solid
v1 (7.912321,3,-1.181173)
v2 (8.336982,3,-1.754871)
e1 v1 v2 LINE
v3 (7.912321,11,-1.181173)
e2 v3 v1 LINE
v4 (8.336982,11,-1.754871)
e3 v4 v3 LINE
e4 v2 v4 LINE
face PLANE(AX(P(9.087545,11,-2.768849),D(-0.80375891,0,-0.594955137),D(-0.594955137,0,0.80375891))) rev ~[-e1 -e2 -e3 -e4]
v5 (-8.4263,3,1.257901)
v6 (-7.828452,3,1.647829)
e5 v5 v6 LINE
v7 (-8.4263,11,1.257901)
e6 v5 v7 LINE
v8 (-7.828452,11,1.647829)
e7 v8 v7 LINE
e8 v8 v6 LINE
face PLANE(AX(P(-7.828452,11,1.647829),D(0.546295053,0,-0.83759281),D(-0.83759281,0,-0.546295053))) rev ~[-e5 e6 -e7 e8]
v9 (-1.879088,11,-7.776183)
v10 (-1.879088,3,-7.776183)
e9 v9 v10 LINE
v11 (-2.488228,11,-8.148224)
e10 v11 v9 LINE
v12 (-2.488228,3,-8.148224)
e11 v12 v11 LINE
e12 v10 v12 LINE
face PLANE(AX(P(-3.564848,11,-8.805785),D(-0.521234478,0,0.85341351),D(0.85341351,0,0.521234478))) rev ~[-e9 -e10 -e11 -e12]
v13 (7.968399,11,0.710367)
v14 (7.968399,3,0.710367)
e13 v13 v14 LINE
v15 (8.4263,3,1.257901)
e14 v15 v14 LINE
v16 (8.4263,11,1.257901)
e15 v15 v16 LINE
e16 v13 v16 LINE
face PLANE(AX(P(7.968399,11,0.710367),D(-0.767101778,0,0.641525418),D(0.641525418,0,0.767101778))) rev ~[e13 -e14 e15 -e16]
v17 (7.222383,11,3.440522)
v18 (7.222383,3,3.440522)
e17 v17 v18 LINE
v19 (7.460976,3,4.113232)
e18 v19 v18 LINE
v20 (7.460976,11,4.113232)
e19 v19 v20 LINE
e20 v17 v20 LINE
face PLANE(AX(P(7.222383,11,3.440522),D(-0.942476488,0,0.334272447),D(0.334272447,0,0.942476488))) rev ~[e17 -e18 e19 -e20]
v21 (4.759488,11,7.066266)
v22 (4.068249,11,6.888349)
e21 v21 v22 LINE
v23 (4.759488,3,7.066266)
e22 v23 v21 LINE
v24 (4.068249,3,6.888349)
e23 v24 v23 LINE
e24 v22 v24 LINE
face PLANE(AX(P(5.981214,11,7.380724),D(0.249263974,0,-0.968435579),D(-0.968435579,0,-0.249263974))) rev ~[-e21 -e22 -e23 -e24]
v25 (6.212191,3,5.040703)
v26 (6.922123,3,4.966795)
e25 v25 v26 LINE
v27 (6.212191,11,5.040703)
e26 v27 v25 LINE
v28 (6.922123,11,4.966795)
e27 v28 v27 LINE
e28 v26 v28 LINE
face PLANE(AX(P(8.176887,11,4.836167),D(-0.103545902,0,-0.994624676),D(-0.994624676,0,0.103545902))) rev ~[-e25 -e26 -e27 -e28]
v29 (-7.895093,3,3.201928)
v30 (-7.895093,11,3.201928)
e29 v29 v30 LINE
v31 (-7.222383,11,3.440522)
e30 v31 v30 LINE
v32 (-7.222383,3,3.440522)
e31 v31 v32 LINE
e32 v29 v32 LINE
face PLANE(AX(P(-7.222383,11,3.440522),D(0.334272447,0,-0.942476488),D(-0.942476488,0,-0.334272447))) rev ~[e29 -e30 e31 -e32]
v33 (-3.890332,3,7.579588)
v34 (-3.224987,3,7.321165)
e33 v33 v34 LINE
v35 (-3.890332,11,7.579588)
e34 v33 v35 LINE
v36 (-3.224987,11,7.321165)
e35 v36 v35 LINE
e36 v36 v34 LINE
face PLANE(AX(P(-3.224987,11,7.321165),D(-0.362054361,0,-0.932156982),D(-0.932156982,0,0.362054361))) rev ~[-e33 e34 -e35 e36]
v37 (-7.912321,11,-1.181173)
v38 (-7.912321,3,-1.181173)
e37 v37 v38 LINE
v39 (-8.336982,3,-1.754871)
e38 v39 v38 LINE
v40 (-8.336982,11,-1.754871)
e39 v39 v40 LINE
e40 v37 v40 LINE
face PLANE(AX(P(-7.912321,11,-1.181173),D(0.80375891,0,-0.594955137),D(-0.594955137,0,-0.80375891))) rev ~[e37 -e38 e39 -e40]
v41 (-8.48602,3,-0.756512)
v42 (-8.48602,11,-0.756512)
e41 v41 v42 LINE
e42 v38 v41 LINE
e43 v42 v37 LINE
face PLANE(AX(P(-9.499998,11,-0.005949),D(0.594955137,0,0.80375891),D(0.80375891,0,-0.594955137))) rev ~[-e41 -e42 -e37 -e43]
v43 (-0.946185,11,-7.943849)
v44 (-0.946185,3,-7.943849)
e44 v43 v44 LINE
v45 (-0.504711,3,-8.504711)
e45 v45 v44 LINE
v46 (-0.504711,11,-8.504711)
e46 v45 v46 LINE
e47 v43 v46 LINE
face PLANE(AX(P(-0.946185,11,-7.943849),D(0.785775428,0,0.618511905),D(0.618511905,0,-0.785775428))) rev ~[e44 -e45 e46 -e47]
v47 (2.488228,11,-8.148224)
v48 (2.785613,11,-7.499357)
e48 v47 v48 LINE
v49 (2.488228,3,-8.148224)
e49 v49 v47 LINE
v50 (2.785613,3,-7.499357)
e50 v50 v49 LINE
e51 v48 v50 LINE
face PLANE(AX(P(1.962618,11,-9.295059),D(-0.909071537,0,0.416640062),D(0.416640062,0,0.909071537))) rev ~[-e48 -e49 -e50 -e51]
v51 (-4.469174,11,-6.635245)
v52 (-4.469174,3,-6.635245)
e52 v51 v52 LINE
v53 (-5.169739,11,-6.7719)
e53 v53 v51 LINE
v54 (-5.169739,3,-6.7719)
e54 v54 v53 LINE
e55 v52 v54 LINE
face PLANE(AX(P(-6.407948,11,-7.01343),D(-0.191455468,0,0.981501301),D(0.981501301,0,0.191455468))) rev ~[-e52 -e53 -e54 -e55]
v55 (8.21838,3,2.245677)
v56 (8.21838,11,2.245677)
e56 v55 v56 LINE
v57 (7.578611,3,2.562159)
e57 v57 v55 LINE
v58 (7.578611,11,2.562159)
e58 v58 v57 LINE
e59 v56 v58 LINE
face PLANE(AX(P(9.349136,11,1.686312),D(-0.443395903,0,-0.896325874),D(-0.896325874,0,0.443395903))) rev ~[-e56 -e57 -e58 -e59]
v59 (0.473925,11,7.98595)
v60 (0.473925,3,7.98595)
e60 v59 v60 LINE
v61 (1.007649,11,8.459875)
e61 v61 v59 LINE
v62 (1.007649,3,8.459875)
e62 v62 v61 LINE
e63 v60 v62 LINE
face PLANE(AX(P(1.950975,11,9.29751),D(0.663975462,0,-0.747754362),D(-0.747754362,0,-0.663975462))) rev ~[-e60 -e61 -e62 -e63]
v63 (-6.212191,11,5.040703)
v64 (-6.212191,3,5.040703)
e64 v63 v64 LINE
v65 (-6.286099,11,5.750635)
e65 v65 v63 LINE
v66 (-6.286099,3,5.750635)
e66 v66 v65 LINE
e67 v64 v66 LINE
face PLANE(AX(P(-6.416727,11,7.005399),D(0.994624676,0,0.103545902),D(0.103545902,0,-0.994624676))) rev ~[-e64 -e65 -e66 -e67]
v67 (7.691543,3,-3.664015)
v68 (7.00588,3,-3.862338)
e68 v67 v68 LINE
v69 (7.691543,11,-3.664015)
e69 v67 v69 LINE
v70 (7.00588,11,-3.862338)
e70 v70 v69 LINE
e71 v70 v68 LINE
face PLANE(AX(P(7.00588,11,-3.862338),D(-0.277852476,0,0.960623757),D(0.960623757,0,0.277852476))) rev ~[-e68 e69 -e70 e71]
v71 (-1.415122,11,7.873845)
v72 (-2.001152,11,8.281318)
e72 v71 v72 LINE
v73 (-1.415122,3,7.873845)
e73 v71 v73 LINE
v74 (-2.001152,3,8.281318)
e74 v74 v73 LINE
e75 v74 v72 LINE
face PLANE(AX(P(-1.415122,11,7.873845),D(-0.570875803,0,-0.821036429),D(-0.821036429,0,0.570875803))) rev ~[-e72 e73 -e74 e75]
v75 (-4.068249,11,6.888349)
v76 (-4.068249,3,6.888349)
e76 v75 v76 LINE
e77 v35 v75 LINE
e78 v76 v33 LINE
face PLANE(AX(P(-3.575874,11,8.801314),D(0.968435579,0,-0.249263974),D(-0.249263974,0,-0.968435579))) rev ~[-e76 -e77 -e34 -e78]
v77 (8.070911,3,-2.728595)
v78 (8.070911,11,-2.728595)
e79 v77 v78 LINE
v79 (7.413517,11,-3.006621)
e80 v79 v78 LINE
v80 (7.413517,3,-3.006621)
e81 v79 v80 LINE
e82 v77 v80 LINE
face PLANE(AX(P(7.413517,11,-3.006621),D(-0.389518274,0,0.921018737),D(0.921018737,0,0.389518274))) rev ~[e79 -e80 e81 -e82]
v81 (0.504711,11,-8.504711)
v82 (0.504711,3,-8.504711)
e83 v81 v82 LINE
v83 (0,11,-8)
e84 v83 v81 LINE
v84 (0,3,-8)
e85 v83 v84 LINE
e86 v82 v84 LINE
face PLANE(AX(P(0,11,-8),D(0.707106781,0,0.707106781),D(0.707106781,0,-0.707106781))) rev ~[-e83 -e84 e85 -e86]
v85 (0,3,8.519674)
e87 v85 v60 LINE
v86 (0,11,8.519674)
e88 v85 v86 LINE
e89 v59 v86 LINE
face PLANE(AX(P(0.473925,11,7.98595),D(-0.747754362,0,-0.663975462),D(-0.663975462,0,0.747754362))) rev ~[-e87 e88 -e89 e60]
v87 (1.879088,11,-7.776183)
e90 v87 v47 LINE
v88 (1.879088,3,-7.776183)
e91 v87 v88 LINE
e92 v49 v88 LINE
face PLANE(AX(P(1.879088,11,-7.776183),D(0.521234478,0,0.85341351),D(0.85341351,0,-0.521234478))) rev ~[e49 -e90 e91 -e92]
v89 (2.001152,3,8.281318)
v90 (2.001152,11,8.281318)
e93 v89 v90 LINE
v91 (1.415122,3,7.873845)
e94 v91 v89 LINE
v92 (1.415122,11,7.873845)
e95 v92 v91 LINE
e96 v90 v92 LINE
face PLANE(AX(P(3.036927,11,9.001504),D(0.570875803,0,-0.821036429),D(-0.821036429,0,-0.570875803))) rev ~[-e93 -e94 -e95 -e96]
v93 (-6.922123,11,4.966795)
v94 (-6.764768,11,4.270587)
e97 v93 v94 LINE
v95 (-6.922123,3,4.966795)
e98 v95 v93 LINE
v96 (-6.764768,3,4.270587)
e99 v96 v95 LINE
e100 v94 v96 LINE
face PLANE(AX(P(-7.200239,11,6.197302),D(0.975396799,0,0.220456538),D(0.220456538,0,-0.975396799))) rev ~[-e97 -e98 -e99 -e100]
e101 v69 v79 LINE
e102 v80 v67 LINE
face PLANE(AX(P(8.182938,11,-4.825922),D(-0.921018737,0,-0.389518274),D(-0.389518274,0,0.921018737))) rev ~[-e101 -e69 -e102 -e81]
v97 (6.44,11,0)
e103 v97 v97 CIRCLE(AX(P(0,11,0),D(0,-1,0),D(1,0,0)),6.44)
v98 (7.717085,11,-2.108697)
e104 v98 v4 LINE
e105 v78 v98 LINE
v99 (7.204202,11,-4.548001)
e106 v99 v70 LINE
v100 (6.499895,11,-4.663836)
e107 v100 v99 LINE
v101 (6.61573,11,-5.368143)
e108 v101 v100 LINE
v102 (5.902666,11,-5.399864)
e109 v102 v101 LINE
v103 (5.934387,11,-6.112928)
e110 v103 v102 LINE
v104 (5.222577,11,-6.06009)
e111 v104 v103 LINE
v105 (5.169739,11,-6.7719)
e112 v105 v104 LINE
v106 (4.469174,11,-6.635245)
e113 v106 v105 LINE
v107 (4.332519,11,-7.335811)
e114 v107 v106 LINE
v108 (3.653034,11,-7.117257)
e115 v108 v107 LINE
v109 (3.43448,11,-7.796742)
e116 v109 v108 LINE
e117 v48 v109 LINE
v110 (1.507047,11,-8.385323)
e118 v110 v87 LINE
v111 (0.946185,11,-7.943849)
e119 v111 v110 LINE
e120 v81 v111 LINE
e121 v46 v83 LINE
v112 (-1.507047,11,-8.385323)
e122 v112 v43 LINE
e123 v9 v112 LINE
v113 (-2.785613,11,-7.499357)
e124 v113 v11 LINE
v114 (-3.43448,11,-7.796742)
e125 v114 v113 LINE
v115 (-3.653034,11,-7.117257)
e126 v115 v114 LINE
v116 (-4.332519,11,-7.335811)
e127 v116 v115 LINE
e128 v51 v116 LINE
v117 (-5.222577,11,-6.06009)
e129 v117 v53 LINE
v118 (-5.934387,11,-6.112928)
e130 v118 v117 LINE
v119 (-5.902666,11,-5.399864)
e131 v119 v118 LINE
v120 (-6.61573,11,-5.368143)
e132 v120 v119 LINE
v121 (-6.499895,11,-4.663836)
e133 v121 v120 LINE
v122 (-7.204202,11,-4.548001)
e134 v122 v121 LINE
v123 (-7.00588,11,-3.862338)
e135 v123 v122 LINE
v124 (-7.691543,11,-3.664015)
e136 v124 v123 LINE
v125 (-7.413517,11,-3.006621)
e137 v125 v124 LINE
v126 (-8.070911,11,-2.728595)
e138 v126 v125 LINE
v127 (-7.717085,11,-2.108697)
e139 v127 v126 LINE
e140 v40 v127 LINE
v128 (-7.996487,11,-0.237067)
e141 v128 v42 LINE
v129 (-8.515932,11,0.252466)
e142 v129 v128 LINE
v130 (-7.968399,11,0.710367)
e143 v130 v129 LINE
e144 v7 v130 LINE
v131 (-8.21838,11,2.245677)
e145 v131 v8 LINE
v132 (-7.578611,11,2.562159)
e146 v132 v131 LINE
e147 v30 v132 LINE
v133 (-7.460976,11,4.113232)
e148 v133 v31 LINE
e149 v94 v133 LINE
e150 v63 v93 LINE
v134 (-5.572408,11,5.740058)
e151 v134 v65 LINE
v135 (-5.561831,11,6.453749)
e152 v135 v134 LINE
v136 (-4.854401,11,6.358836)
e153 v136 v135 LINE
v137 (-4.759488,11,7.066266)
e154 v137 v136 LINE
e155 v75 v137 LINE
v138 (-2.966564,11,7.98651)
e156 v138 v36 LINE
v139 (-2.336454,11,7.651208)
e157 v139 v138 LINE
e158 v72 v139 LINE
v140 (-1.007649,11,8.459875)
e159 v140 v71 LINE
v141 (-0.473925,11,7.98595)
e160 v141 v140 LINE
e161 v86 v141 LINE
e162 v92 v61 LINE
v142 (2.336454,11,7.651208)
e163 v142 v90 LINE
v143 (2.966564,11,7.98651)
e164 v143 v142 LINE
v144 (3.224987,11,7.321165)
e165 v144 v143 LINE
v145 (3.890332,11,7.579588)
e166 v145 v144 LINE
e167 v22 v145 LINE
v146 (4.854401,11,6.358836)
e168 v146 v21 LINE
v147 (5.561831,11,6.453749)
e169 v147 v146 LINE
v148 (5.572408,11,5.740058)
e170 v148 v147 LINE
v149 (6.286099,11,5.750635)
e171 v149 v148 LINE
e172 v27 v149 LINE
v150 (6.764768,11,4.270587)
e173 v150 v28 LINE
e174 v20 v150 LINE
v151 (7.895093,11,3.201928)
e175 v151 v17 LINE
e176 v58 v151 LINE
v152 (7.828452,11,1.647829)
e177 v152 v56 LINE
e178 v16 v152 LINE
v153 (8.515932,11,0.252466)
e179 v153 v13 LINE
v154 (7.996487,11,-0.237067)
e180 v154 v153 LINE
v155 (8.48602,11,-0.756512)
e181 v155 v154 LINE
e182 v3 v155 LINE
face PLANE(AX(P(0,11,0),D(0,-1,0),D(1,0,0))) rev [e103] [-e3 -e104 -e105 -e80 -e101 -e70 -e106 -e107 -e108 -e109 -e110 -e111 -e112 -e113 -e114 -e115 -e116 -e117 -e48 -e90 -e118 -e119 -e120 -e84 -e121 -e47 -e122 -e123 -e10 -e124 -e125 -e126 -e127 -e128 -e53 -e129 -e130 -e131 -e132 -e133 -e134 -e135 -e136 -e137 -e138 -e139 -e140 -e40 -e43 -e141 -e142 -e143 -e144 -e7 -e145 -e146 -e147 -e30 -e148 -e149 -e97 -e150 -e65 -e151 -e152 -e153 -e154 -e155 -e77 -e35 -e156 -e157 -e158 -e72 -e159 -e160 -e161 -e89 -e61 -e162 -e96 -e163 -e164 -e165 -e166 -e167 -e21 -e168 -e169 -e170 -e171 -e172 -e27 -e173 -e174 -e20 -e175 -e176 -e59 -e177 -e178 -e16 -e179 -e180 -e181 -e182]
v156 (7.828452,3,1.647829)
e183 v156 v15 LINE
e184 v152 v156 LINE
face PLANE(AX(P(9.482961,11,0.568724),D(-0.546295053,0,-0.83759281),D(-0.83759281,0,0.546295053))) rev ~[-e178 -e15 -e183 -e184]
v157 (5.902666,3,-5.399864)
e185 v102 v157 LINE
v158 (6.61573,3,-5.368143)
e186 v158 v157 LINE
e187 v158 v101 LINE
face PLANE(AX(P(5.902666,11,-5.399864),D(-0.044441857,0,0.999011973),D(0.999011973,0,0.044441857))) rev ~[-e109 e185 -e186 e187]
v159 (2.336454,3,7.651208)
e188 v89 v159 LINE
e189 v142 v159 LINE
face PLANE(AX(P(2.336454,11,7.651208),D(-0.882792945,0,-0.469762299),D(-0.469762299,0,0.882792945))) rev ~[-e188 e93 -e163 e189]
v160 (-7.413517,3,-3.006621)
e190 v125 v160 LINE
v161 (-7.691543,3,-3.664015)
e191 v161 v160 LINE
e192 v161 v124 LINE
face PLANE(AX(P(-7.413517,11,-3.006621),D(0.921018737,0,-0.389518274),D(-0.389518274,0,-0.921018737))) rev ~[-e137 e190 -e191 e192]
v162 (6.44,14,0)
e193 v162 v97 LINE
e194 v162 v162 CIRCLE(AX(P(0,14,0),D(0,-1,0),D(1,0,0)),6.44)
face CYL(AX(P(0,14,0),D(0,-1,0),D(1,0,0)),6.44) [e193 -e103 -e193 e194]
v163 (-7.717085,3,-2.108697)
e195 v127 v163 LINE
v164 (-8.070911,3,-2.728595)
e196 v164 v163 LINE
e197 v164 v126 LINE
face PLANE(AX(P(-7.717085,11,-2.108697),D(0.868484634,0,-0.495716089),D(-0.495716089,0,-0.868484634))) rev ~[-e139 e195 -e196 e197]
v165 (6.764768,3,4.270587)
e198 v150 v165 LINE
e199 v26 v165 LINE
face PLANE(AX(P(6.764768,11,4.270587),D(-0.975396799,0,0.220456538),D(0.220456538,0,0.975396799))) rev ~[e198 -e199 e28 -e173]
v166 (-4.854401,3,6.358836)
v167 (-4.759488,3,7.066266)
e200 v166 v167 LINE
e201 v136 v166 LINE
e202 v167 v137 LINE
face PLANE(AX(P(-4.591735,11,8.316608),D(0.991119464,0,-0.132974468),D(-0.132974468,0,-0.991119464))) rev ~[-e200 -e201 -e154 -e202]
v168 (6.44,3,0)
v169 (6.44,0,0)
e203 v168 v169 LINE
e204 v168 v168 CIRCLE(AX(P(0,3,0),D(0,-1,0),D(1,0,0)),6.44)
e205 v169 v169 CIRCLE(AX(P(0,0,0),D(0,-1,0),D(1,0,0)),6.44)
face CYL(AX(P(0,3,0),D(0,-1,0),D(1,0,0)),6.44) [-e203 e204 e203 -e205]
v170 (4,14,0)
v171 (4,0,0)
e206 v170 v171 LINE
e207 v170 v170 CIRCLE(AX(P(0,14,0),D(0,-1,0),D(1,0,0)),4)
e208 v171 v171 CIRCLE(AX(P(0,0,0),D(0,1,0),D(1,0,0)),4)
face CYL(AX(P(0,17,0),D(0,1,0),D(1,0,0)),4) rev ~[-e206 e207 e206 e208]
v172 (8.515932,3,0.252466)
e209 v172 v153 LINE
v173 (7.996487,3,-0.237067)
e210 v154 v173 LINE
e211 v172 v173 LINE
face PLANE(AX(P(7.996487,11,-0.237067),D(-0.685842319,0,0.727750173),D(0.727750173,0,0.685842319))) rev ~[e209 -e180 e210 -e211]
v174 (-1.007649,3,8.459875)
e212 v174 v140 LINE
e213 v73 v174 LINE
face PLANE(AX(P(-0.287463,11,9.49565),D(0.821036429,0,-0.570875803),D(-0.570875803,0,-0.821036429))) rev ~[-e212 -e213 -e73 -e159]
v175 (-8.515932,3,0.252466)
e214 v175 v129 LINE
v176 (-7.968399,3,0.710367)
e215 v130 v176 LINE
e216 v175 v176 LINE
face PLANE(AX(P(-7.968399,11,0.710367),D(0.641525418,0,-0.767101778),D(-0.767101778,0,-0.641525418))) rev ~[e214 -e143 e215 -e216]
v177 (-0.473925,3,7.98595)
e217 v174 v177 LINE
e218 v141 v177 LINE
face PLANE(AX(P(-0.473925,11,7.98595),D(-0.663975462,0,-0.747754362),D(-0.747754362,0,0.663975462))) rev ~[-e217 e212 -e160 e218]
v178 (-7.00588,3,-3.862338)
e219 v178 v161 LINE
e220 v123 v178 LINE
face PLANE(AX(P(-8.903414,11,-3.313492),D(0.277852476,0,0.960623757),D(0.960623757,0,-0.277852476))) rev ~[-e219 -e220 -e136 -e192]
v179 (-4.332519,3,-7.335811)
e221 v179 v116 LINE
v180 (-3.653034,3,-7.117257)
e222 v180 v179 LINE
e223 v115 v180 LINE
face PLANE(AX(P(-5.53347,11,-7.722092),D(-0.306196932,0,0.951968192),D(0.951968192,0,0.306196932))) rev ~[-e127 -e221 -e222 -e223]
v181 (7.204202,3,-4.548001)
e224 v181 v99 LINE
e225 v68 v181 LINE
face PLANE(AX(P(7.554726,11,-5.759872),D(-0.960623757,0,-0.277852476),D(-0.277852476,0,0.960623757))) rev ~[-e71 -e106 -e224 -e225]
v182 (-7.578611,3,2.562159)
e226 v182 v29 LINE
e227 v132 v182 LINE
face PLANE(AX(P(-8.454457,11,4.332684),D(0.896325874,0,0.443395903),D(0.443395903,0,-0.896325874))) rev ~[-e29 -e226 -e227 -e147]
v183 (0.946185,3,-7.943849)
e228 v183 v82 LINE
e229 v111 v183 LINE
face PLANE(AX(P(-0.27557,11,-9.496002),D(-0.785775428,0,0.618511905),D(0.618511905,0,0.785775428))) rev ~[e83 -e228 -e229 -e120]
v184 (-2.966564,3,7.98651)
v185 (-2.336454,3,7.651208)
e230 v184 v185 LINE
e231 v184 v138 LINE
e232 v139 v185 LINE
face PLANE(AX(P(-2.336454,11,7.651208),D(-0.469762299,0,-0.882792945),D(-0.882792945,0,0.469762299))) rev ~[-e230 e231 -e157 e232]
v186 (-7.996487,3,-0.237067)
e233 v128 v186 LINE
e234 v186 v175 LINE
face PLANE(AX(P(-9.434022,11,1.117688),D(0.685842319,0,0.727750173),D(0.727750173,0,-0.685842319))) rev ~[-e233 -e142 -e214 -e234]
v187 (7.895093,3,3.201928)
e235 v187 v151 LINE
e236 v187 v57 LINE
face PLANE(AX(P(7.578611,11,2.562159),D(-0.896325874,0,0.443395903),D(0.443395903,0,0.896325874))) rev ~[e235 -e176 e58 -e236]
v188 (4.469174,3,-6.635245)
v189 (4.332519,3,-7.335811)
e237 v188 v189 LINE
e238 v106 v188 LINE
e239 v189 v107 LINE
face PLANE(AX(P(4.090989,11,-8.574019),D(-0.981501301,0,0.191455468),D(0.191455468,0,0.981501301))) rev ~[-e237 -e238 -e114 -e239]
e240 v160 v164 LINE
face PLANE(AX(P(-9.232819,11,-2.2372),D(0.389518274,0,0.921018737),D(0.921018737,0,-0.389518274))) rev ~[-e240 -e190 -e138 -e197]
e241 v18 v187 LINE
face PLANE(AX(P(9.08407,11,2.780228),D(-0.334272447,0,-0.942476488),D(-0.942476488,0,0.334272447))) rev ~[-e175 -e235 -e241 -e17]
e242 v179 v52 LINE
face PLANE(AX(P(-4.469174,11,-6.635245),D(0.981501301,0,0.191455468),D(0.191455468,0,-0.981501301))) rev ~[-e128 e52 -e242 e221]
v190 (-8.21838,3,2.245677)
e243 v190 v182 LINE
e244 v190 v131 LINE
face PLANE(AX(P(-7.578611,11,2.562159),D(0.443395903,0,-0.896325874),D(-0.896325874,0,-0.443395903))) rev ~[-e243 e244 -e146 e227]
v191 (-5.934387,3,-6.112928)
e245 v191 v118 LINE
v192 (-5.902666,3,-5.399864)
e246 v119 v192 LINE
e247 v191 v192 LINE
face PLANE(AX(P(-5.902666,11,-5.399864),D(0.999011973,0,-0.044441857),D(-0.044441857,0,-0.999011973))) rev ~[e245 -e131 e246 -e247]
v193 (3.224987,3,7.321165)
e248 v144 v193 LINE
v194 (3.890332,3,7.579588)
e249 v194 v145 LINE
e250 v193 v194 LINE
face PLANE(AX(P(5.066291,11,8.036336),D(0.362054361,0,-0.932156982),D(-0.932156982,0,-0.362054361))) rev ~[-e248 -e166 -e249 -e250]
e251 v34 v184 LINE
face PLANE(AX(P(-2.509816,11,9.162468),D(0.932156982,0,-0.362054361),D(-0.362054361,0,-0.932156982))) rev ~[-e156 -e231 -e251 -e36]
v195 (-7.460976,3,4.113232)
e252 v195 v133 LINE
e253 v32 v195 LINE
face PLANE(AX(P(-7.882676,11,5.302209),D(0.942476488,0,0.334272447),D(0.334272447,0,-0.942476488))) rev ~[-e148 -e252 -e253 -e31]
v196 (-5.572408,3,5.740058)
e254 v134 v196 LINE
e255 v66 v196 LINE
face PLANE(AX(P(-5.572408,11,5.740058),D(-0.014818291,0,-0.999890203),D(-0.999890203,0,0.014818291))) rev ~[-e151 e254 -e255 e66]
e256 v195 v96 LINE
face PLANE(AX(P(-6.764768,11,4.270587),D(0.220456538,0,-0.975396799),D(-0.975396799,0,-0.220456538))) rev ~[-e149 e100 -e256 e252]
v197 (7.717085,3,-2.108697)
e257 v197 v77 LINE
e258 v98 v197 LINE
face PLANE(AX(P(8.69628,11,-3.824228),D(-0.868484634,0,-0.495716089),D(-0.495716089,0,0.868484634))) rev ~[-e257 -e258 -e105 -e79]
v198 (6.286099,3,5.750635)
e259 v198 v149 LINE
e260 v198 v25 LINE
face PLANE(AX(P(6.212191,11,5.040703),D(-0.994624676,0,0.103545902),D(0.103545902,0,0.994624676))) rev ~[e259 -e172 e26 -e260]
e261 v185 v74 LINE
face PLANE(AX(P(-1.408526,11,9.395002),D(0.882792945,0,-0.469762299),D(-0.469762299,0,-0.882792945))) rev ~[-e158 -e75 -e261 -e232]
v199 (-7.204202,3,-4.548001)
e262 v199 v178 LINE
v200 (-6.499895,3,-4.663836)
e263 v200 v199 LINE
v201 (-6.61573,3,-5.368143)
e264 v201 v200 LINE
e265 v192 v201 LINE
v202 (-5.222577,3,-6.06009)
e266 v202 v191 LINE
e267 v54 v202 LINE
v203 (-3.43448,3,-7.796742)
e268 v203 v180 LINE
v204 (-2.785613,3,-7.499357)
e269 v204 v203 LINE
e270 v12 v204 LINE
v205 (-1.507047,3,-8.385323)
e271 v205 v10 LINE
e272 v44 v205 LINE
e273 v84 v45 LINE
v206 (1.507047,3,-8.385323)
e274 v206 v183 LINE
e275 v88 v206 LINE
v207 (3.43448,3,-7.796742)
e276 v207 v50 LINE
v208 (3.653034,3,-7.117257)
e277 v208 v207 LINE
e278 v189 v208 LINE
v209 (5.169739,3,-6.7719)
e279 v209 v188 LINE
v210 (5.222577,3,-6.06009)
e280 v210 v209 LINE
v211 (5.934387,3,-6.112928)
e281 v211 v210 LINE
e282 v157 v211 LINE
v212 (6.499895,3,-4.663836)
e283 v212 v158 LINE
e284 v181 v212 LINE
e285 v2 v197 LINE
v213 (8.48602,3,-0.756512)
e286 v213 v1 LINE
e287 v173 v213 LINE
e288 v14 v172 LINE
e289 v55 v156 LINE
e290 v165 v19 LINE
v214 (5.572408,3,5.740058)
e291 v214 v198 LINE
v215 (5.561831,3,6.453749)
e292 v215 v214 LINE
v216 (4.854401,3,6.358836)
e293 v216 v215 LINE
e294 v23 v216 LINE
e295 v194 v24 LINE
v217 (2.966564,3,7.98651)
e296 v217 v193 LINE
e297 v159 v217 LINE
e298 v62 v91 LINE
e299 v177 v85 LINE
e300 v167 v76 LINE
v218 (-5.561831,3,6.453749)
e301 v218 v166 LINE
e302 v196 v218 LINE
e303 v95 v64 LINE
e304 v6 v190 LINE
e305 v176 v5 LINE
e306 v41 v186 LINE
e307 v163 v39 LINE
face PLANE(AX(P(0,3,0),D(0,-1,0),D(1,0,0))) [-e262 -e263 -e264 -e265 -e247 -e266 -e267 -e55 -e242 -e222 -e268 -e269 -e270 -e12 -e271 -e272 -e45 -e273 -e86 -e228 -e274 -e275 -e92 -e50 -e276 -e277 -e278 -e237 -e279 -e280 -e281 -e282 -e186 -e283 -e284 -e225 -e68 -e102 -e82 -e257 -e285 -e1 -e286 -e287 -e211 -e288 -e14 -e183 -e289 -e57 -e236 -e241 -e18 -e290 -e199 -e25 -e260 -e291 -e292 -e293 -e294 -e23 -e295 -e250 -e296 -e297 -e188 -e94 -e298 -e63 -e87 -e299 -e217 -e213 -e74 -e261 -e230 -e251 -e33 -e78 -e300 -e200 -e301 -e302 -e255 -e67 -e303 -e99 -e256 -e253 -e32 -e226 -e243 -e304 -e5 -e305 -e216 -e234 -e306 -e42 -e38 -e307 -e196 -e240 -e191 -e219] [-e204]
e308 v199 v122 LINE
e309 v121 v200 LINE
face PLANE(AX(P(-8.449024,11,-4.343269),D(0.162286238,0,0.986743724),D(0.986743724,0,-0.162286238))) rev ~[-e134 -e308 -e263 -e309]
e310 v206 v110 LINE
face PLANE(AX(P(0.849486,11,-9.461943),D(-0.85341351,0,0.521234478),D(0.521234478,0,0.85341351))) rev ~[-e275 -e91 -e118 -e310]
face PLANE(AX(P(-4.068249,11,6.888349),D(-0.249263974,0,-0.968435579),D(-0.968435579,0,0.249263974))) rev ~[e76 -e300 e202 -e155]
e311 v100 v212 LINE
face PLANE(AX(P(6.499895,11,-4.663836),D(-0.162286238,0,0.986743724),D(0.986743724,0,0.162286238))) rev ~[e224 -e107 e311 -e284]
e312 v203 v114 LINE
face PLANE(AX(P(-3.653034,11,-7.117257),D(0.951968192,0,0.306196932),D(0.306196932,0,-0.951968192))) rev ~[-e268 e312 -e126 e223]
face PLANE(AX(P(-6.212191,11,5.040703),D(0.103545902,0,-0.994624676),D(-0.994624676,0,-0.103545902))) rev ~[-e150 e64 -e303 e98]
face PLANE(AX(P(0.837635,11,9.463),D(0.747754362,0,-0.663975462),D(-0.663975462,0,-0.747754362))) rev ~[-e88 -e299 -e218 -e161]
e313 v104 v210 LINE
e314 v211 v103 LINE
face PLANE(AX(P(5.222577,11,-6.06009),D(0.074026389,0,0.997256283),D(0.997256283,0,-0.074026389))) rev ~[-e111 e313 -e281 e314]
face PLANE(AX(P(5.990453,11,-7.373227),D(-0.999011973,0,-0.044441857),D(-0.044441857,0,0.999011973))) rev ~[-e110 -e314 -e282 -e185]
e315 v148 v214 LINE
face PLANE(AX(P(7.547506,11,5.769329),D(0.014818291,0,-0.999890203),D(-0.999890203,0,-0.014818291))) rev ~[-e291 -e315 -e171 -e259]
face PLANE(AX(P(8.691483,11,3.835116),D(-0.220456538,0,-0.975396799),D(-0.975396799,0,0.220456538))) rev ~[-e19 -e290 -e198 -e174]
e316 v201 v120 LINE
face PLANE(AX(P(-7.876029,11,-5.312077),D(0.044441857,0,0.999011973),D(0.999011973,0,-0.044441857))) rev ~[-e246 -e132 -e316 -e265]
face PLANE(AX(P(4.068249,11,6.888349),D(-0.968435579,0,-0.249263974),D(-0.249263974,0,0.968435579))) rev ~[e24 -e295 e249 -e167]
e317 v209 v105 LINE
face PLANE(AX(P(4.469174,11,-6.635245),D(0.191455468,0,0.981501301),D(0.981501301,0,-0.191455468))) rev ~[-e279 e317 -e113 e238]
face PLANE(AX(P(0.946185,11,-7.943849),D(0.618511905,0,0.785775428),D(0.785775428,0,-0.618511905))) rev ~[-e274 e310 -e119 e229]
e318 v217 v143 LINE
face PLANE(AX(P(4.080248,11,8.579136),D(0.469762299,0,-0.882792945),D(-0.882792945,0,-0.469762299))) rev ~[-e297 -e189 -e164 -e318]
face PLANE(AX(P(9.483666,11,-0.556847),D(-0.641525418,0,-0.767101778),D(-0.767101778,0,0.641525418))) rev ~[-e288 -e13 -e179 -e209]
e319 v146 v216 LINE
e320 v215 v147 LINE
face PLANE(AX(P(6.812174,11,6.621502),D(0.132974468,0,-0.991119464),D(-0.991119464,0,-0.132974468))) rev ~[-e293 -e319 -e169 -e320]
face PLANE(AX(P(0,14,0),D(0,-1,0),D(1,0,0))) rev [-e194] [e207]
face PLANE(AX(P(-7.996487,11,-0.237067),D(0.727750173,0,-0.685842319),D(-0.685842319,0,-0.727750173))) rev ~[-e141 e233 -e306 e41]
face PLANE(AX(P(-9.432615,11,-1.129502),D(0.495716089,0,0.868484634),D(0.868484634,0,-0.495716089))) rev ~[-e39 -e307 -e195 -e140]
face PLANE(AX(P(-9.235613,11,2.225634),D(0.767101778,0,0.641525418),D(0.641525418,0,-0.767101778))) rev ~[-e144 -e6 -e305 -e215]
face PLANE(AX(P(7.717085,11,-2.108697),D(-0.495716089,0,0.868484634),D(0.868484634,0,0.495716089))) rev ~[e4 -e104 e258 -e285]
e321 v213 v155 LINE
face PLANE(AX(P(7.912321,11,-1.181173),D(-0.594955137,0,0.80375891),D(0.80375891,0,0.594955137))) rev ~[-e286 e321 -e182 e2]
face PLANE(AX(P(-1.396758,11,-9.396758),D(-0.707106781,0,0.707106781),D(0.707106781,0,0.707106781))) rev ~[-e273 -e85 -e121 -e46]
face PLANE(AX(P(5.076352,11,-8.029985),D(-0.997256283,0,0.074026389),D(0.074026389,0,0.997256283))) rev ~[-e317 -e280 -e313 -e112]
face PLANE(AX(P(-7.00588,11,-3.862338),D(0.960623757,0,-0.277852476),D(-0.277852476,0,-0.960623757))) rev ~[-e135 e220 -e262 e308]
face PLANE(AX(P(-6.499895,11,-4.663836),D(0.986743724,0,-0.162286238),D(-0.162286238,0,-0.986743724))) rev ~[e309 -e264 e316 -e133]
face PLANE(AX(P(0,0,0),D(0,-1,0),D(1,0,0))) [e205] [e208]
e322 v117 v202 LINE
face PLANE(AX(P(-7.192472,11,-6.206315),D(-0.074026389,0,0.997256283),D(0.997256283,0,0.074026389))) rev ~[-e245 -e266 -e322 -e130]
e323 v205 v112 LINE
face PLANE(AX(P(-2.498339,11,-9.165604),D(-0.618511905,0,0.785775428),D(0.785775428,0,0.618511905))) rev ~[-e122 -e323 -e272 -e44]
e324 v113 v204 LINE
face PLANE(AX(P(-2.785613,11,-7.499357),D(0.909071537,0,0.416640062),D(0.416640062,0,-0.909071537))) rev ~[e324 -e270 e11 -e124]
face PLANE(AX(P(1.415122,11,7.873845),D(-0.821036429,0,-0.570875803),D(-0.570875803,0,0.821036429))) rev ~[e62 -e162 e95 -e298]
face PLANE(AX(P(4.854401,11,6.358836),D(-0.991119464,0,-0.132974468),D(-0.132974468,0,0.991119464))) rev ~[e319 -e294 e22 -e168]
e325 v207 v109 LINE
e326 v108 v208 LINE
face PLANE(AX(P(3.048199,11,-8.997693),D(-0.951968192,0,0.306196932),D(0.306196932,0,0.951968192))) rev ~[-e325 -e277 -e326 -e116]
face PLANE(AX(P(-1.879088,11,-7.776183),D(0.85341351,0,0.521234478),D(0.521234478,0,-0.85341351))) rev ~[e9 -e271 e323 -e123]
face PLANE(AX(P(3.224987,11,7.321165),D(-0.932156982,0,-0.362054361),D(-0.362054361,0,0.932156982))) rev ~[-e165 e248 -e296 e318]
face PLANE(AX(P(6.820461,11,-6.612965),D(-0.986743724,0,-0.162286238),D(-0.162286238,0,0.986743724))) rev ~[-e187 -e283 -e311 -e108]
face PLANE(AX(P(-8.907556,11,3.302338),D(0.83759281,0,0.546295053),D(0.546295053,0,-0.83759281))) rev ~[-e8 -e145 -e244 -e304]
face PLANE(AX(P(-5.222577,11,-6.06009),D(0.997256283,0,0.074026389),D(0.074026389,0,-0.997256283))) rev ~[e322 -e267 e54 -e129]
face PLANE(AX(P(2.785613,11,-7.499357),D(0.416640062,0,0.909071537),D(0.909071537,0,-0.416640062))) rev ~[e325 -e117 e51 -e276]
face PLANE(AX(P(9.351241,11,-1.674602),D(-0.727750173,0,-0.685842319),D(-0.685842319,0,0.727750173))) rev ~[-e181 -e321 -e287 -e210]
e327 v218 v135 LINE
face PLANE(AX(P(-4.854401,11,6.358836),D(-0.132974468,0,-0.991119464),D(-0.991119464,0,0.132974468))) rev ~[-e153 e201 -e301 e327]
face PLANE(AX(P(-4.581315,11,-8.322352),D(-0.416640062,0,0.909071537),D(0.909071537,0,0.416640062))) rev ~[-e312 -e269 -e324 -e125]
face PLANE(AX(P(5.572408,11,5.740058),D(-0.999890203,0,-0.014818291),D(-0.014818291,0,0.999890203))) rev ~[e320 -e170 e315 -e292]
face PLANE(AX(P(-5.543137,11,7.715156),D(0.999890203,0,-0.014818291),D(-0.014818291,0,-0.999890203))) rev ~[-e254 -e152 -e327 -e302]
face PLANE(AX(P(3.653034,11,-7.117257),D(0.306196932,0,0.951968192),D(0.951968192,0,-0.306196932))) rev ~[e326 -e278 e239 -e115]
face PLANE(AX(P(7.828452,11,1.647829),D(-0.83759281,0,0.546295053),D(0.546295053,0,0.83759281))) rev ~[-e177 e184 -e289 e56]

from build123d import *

# Parameters (mm, degrees)
CUT_EXTRUDE_2_DEPTH      = 12
PATTERN_CIRCULAR_1_COUNT = 53
SKETCH_4_R               = 4
CUT_EXTRUDE_3_DEPTH      = 18


with BuildPart() as part:
    # 草图1 → 旋转1 (revolve)
    with BuildSketch(Plane.XY):
        Polygon((0, 17), (4, 17), (4, 14), (6.44, 14), (6.44, 11), (9.5, 11), (9.5, 3), (6.44, 3), (6.44, 0), (0, 0), align=None)
    revolve(axis=Axis((0, 17, 0), (0, -1, 0)))

    # 草图2 → 切除-拉伸2 (cut, through all)
    with BuildSketch(Plane(origin=(0, 11, 0), x_dir=(1, 0, 0), z_dir=(0, 1, 0))):
        with BuildLine():
            Line((0, 8), (1.396758286, 9.396758286))
            ThreePointArc((1.396758286, 9.396758286), (0, 9.5), (-1.396758286, 9.396758286))
            Line((-1.396758286, 9.396758286), (0, 8))
        make_face()
    cut_extrude_2 = extrude(amount=-CUT_EXTRUDE_2_DEPTH, mode=Mode.SUBTRACT)

    # 阵列(圆周)1: 切除-拉伸2 ×53 about axis
    pattern_circular_1_axis = Axis((0, 0, 0), (0, 1, 0))
    for i in range(1, PATTERN_CIRCULAR_1_COUNT):
        add(cut_extrude_2.rotate(pattern_circular_1_axis, i * 360 / PATTERN_CIRCULAR_1_COUNT), mode=Mode.SUBTRACT)

    # 草图4 → 切除-拉伸3 (cut, through all)
    with BuildSketch(Plane(origin=(0, 17, 0), x_dir=(1, 0, 0), z_dir=(0, 1, 0))):
        Circle(SKETCH_4_R)
    extrude(amount=-CUT_EXTRUDE_3_DEPTH, mode=Mode.SUBTRACT)


solid = part.part
